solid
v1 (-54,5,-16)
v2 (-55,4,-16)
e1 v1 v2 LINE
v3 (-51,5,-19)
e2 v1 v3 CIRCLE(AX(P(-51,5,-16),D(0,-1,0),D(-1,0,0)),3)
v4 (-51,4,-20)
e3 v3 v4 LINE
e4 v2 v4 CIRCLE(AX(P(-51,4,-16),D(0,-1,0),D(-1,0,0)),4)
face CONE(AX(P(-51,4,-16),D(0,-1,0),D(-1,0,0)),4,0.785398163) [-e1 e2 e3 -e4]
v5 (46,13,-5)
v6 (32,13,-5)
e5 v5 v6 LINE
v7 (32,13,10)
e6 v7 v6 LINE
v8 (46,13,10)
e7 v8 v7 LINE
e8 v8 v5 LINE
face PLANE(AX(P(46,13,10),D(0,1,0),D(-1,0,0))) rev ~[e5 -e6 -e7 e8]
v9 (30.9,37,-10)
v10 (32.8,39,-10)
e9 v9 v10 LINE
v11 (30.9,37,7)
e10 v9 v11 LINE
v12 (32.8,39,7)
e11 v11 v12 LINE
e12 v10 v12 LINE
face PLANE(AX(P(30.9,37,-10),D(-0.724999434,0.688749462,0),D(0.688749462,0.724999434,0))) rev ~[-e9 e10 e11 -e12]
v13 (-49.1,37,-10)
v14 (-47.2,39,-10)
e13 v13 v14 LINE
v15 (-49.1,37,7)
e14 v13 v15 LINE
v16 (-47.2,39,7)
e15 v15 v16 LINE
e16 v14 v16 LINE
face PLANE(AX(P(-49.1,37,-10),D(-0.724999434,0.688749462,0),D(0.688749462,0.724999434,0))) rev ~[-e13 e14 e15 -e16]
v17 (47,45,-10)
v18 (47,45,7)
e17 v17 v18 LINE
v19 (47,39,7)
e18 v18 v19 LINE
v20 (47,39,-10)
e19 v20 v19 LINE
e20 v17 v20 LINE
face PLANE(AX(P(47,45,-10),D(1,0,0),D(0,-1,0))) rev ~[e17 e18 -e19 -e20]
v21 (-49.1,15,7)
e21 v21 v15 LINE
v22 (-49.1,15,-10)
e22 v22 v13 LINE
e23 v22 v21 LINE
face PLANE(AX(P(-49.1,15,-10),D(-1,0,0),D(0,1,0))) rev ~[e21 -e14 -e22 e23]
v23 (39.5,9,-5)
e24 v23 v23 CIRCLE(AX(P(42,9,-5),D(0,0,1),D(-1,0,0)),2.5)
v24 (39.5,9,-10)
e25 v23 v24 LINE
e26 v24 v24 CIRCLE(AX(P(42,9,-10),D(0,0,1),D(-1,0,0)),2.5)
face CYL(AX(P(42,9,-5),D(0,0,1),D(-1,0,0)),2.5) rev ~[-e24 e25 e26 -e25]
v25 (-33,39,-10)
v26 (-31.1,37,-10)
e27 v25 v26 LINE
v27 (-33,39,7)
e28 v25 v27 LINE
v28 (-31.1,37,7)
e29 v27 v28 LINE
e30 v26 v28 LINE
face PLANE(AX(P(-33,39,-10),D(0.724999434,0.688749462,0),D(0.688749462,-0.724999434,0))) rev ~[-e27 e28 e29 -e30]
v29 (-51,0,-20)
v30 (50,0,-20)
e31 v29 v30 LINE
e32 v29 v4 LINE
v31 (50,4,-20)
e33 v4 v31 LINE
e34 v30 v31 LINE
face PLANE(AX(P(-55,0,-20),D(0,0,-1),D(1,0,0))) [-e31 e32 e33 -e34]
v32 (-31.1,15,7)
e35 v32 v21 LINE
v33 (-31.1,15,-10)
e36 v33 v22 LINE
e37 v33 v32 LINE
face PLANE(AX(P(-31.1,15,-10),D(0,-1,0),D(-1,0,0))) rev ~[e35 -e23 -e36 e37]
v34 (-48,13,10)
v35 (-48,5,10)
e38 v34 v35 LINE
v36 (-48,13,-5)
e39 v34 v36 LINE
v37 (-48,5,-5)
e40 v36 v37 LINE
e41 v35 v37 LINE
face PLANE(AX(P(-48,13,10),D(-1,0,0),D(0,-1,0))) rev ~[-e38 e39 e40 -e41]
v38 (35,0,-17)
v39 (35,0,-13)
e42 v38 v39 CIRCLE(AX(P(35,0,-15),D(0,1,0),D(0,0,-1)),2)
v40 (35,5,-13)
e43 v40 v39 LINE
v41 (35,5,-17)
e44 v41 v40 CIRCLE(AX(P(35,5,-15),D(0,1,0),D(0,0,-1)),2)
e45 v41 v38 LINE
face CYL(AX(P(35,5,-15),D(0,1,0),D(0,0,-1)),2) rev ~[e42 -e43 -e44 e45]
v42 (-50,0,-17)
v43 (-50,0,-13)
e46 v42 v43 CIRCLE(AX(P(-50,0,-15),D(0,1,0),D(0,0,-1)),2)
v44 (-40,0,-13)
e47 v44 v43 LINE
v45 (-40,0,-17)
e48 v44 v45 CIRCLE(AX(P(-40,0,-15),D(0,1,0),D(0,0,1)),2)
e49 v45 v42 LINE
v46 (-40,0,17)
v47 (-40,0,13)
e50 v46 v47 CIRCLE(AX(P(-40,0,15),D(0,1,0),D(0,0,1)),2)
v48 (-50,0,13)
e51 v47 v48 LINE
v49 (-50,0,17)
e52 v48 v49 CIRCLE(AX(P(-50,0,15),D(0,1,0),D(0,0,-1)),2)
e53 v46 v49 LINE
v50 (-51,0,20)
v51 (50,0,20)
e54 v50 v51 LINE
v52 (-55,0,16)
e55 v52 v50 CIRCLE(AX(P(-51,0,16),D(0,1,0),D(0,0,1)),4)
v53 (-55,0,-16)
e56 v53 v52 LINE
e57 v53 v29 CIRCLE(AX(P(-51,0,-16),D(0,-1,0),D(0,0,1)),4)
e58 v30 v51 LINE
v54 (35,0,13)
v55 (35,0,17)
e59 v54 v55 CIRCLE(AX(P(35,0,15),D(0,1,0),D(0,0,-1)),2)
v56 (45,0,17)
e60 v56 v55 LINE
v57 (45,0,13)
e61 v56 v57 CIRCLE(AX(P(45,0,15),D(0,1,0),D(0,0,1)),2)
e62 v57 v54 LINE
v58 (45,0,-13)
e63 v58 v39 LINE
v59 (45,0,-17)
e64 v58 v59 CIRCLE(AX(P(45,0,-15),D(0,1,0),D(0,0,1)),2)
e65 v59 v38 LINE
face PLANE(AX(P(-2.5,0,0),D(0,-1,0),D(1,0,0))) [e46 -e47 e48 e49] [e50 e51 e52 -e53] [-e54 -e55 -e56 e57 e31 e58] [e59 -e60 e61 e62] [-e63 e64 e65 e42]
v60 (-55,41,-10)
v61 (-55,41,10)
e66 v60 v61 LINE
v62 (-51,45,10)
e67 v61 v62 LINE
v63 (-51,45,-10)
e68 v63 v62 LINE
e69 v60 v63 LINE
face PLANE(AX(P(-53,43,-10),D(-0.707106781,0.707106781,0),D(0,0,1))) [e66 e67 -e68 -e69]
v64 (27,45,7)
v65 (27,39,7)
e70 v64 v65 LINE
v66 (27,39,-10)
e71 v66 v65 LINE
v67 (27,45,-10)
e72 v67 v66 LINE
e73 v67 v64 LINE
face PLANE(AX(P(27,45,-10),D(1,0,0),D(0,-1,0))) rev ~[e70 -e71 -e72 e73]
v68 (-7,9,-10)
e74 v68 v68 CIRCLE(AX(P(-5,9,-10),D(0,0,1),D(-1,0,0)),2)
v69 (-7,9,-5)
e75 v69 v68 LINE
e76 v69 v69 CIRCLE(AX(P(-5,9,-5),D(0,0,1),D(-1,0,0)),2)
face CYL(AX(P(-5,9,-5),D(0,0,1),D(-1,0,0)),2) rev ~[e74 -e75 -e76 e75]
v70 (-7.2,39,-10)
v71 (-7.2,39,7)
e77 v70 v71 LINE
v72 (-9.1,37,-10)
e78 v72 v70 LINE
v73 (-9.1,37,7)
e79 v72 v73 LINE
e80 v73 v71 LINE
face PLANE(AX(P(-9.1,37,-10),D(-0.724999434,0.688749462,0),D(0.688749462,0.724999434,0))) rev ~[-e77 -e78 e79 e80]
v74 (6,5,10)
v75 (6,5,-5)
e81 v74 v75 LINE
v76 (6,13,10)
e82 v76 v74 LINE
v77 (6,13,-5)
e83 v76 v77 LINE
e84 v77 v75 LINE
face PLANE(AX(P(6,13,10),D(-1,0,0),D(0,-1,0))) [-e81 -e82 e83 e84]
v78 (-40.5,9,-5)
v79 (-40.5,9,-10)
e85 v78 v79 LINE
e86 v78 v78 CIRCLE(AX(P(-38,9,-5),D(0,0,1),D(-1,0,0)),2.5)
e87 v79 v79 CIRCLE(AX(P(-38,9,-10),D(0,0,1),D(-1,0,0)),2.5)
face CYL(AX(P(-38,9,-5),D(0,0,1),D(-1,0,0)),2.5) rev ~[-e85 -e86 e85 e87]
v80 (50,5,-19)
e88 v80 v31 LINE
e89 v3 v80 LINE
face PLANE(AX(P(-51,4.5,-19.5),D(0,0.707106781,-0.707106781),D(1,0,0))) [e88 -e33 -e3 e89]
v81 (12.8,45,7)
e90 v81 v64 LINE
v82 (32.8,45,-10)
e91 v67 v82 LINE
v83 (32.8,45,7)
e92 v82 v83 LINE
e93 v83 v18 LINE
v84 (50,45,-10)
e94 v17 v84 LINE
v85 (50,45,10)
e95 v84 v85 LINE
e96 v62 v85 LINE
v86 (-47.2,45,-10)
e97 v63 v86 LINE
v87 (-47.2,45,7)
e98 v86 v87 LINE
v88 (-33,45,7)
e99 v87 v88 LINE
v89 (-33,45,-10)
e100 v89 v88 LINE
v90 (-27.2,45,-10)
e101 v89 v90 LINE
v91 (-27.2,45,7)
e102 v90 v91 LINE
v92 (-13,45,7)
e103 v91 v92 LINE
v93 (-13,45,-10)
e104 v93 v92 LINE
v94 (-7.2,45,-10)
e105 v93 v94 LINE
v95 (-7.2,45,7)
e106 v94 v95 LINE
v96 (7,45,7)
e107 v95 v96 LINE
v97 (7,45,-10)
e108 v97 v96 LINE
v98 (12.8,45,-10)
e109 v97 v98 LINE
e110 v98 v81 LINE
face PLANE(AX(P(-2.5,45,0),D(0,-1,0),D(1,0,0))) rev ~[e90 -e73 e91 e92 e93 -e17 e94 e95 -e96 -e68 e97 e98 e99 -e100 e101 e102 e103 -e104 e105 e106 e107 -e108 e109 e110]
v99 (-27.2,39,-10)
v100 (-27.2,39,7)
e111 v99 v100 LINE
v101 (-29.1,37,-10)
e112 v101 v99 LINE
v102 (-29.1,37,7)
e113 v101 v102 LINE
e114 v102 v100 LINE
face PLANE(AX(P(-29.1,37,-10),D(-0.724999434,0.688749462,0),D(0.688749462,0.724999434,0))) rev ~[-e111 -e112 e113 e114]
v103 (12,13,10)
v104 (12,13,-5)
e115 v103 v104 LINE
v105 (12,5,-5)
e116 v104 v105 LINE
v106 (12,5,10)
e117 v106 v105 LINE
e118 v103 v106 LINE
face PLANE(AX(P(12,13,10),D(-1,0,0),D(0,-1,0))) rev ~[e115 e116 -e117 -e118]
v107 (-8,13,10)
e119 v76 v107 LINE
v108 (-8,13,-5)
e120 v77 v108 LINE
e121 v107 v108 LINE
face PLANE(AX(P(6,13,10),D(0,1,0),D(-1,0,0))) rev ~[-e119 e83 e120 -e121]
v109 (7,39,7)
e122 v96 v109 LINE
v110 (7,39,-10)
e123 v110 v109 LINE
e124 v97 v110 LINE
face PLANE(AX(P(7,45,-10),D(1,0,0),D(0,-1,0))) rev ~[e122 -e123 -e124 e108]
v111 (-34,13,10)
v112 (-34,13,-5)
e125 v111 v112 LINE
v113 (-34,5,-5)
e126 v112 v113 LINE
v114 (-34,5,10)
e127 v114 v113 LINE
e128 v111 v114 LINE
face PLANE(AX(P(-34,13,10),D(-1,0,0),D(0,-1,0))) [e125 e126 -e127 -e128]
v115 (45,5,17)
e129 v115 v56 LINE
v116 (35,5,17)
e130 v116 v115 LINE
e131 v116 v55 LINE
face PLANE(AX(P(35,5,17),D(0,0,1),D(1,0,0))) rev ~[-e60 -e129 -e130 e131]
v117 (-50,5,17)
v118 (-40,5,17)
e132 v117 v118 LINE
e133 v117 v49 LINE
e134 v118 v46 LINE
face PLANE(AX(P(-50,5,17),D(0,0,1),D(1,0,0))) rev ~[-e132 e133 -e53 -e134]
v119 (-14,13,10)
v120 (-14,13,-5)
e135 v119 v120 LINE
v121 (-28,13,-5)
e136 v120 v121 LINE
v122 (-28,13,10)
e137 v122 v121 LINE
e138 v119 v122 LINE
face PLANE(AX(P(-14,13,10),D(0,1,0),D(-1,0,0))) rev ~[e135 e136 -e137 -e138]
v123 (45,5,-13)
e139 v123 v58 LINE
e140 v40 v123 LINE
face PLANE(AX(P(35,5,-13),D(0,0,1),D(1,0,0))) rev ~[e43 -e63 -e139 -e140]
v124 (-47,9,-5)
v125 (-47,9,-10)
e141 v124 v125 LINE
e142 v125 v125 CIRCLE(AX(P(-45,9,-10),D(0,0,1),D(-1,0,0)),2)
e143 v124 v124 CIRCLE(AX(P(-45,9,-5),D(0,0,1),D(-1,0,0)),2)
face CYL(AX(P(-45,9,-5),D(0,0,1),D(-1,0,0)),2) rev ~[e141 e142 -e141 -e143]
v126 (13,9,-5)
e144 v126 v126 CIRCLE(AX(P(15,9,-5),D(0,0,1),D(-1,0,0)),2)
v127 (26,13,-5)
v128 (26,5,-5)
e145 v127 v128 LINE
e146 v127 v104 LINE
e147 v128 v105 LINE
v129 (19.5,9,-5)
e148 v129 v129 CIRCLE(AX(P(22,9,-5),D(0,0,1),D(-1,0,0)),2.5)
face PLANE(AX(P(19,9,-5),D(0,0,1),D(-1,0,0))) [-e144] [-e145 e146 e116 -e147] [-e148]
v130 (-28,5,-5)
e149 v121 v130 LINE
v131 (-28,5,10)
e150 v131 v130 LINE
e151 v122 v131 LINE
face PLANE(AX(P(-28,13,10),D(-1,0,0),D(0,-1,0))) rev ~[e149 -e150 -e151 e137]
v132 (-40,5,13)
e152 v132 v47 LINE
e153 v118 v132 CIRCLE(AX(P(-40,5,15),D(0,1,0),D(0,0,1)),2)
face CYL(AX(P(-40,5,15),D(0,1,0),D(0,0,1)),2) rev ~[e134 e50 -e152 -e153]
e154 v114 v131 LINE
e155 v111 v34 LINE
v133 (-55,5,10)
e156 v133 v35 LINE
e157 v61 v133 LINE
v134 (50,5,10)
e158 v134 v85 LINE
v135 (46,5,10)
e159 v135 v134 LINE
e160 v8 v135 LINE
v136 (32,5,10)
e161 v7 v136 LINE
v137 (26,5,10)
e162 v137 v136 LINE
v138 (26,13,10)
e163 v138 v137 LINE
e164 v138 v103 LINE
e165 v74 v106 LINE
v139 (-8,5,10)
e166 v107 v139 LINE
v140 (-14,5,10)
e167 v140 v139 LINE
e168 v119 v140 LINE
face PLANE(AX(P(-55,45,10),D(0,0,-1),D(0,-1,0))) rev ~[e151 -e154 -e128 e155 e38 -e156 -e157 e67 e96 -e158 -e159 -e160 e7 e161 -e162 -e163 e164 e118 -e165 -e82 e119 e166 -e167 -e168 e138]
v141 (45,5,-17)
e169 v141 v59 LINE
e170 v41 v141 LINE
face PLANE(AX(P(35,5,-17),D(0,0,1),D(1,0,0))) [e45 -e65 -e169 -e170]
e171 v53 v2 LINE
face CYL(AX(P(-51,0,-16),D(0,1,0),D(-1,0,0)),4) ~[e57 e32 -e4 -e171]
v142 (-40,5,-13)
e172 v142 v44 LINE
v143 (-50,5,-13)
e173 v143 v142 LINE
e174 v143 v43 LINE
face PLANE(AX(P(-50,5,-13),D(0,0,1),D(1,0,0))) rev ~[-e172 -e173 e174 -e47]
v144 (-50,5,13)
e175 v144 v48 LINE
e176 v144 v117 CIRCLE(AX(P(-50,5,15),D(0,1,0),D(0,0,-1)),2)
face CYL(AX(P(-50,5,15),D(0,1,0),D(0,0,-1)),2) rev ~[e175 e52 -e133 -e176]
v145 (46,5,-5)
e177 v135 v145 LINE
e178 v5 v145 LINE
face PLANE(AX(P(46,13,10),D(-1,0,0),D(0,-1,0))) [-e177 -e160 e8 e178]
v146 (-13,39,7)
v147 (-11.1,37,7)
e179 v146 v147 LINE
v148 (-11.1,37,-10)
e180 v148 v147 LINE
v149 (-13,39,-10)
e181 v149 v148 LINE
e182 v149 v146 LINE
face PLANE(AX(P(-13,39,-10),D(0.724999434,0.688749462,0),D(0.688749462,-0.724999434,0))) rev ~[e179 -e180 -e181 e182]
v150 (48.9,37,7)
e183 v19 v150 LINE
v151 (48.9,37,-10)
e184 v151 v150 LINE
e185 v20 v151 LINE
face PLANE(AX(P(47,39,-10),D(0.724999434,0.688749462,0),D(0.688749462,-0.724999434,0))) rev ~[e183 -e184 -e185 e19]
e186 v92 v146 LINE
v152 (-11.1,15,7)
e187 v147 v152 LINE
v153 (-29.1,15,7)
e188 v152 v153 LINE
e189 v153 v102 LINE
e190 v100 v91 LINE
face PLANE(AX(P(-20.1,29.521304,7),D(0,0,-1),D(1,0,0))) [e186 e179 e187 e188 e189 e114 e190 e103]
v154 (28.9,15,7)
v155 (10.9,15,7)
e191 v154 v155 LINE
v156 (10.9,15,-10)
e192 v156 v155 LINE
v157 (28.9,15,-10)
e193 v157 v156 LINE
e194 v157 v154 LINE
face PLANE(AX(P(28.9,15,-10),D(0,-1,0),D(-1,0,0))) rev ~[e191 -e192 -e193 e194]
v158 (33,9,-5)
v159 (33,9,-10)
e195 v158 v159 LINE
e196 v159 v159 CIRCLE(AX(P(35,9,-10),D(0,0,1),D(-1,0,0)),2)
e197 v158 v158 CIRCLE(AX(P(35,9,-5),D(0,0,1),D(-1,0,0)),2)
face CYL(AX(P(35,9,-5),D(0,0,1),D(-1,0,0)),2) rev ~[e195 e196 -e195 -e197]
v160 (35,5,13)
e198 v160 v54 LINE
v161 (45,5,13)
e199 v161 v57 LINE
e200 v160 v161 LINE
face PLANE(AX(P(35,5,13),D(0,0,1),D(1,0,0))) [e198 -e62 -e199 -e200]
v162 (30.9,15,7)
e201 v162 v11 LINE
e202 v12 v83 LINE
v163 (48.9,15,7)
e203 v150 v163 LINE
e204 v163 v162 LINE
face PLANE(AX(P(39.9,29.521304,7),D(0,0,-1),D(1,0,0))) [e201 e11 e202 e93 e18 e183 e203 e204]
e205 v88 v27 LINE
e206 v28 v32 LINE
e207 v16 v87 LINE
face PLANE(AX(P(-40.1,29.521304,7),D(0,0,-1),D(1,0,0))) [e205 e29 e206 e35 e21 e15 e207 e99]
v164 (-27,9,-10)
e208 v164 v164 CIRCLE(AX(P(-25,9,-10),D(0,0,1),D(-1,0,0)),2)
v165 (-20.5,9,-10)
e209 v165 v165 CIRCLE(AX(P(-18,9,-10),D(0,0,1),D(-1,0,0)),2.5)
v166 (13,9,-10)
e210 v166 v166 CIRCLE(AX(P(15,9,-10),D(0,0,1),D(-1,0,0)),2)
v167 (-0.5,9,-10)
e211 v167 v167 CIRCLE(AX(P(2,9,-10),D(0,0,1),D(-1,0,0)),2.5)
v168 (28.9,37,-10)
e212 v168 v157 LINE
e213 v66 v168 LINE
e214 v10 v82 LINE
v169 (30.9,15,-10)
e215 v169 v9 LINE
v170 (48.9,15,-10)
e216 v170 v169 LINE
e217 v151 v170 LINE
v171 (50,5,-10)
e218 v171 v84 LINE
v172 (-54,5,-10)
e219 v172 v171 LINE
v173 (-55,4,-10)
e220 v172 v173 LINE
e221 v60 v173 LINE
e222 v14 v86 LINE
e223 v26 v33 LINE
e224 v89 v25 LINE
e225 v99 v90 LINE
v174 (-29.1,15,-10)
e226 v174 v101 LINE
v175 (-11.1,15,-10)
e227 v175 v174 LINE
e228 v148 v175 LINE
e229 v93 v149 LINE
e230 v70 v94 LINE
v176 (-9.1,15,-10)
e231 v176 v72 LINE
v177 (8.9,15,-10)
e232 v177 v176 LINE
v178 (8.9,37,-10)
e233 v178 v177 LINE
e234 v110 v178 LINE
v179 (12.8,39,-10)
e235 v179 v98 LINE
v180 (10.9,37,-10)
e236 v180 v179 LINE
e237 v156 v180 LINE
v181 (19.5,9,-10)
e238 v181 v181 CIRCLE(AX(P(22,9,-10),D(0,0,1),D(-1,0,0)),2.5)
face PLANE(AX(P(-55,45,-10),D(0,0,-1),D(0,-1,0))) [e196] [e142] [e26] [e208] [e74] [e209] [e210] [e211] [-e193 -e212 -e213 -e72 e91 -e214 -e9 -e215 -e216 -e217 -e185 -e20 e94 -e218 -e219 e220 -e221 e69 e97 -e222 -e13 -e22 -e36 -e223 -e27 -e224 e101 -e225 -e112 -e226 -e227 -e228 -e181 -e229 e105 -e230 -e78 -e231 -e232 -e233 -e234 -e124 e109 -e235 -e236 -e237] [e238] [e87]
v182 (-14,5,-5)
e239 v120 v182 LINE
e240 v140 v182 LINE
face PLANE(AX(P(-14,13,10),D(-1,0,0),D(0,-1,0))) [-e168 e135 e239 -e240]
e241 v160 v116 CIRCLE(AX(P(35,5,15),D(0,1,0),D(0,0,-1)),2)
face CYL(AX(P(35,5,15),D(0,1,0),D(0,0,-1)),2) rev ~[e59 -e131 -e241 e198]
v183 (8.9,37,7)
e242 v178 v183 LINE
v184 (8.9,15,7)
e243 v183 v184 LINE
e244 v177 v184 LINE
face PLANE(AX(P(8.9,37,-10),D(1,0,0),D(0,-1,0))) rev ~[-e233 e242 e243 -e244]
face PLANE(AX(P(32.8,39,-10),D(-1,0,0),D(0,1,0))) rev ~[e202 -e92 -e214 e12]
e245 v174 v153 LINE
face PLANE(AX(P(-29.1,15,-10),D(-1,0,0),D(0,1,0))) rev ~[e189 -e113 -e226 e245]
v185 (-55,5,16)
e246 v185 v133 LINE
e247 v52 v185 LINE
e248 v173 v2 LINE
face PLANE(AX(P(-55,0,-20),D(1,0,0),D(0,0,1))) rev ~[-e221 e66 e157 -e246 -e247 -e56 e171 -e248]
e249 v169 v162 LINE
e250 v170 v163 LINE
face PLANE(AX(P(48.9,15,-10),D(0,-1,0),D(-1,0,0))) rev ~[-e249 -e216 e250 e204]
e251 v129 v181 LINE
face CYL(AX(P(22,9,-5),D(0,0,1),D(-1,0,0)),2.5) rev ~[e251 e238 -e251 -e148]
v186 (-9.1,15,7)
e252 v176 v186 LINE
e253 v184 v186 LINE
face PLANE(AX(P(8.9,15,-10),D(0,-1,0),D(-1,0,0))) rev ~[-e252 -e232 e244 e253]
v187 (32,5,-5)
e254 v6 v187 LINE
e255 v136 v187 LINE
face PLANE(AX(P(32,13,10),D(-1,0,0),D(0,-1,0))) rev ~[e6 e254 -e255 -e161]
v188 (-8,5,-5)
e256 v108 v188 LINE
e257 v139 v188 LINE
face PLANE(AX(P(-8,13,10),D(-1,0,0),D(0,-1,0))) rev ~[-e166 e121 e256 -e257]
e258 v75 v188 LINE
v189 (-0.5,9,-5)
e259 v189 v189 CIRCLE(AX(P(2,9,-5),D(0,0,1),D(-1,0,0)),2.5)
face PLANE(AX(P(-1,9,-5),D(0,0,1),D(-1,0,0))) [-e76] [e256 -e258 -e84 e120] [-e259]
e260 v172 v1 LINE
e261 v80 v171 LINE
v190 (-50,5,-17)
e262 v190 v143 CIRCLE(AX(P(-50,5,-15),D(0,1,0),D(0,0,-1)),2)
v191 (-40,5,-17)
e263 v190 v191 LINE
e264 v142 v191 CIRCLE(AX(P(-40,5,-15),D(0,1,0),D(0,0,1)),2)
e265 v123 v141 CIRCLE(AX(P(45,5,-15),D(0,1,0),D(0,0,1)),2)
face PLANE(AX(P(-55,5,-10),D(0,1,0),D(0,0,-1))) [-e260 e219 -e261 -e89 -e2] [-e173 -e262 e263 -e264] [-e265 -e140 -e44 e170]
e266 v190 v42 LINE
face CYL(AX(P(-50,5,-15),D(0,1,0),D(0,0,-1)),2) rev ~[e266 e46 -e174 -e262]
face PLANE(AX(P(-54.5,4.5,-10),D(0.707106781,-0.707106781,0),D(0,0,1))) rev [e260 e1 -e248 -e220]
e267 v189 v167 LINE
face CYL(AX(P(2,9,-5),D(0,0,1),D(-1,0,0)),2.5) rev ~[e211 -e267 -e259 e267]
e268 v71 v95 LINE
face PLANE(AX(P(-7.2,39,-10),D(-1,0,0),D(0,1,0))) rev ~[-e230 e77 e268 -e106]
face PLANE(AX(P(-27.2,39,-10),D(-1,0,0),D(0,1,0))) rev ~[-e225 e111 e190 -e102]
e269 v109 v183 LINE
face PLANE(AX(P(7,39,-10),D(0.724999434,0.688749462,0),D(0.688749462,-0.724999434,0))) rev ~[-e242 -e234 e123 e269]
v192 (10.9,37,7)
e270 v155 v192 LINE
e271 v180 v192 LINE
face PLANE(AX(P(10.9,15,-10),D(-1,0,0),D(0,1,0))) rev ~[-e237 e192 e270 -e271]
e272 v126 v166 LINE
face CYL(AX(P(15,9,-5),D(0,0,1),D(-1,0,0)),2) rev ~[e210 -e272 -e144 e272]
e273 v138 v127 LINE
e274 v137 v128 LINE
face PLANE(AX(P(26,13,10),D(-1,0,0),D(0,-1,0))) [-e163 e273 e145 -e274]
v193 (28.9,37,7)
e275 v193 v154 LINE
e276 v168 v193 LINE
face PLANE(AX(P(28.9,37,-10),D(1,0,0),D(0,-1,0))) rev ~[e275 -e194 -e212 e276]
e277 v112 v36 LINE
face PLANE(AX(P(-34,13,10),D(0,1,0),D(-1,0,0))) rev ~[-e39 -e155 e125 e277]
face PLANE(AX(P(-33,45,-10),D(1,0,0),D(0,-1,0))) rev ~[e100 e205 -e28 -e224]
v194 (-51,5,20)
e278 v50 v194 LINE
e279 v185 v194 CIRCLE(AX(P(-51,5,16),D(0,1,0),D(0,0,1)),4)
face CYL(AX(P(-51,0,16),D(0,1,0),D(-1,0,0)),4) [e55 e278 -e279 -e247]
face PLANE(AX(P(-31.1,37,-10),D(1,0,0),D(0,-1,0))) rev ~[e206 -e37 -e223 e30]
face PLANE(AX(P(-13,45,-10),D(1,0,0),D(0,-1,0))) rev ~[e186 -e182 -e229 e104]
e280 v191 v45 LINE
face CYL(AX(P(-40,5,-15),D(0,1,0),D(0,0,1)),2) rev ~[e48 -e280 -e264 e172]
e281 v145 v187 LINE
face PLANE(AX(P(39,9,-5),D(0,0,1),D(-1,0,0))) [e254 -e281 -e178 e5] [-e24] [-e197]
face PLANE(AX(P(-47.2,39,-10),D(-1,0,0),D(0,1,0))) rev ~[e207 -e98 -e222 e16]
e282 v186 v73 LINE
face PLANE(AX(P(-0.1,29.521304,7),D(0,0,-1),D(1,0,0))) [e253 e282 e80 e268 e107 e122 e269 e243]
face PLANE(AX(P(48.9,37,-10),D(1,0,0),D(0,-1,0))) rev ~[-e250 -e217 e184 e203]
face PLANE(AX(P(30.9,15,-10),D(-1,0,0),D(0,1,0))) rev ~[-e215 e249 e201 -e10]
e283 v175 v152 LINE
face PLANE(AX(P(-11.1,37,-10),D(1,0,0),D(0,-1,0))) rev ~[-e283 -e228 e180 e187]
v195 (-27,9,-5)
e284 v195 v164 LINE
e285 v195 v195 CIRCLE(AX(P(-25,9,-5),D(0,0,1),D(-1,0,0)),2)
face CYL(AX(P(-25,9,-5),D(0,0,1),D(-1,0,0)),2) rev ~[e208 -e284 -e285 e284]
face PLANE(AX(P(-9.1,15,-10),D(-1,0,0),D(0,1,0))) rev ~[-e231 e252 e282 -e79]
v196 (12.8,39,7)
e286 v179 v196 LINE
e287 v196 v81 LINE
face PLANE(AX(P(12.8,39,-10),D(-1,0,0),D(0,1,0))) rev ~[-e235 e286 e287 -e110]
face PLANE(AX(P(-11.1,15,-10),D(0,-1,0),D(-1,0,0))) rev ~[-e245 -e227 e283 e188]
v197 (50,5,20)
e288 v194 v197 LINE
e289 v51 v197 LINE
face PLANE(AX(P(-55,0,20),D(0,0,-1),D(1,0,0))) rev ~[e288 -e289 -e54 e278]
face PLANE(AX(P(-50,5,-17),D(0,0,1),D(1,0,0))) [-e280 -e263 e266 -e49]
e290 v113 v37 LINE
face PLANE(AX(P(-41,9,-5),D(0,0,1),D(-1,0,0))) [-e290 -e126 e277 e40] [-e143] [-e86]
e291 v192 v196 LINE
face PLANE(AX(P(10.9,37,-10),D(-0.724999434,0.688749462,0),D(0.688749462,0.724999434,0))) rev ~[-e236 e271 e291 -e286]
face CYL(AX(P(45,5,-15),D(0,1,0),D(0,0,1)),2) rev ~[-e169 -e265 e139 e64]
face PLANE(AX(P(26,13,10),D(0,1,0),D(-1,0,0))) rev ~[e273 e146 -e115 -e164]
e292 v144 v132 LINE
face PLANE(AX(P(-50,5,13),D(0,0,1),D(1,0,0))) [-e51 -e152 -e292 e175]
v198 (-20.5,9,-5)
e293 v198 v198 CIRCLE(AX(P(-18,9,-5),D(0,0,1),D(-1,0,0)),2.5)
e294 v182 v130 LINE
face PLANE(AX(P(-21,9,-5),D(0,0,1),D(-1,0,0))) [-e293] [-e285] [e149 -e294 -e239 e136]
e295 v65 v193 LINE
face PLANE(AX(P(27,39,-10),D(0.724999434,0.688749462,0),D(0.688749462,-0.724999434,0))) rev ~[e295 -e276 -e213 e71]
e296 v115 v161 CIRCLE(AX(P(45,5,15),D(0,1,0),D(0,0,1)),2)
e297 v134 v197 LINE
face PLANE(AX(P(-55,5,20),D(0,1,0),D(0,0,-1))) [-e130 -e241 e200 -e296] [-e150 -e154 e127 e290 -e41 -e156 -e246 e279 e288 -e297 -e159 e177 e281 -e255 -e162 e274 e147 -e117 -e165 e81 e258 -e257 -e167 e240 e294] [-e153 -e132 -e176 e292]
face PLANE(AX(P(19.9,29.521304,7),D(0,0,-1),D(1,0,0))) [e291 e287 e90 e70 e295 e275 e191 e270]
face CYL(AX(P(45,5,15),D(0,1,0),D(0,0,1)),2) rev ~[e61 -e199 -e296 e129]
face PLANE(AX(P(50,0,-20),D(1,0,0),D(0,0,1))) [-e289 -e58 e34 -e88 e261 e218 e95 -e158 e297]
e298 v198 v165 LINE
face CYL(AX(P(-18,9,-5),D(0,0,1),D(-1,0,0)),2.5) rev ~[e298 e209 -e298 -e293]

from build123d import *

# Parameters (mm, degrees)
SKETCH001_W            = 105
SKETCH001_H            = 40
PAD001_DEPTH           = 45
SKETCH002_W            = 10
SKETCH002_H            = 40
POCKET_DEPTH           = 105.001
POCKET001_DEPTH        = 5.001
POCKET002_DEPTH        = 17
LINEARPATTERN_COUNT    = 5
LINEARPATTERN_PITCH    = 20
SKETCH005_W            = 14
SKETCH005_H            = 8
POCKET003_DEPTH        = 15
LINEARPATTERN001_COUNT = 5
LINEARPATTERN001_PITCH = 20
SKETCH006_R            = 2.5
SKETCH006_R_2          = 2
POCKET004_DEPTH        = 15.001
LINEARPATTERN002_COUNT = 5
LINEARPATTERN002_PITCH = 20
FILLET_R               = 4
CHAMFER_SIZE           = 1
CHAMFER001_SIZE        = 4


with BuildPart() as part:
    # Sketch001 → Pad001 (new body)
    with BuildSketch(Plane.XZ):
        with Locations((-2.5, 0)):
            Rectangle(SKETCH001_W, SKETCH001_H)
    extrude(amount=-PAD001_DEPTH)

    # Sketch002 (on Face4 of Pad001) → Pocket (cut, through all)
    with BuildSketch(Plane(origin=(-55, 0, 0), x_dir=(0, 0, -1), z_dir=(-1, 0, 0))):
        with Locations((-15, -25)):
            Rectangle(SKETCH002_W, SKETCH002_H)
        with Locations((15, -25)):
            Rectangle(SKETCH002_W, SKETCH002_H)
    extrude(amount=-POCKET_DEPTH, mode=Mode.SUBTRACT)

    # Sketch003 (on Face7 of Pocket) → Pocket001 (cut, through all)
    with BuildSketch(Plane(origin=(0, 5, 0), x_dir=(1, 0, 0), z_dir=(0, 1, 0))):
        with BuildLine():
            ThreePointArc((-50, 17), (-52, 15), (-50, 13))
            Line((-50, 13), (-40, 13))
            ThreePointArc((-40, 13), (-38, 15), (-40, 17))
            Line((-50, 17), (-40, 17))
        make_face()
        with BuildLine():
            ThreePointArc((35, 17), (33, 15), (35, 13))
            Line((35, 13), (45, 13))
            ThreePointArc((45, 13), (47, 15), (45, 17))
            Line((35, 17), (45, 17))
        make_face()
        with BuildLine():
            ThreePointArc((-50, -13), (-52, -15), (-50, -17))
            Line((-50, -17), (-40, -17))
            ThreePointArc((-40, -17), (-38, -15), (-40, -13))
            Line((-50, -13), (-40, -13))
        make_face()
        with BuildLine():
            ThreePointArc((35, -13), (33, -15), (35, -17))
            Line((35, -17), (45, -17))
            ThreePointArc((45, -17), (47, -15), (45, -13))
            Line((35, -13), (45, -13))
        make_face()
    extrude(amount=-POCKET001_DEPTH, mode=Mode.SUBTRACT)

    # Sketch004 (on Face24 of Pocket001) → Pocket002 (cut)
    with BuildSketch(Plane(origin=(0, 0, -10), x_dir=(1, 0, 0), z_dir=(0, 0, -1))):
        Polygon((47, -45), (47, -39), (48.9, -37), (48.9, -15), (30.9, -15), (30.9, -37), (32.8, -39), (32.8, -45), align=None)
    pocket002 = extrude(amount=-POCKET002_DEPTH, mode=Mode.SUBTRACT)

    # LinearPattern: Pocket002 ×5
    with Locations(*[(-i * LINEARPATTERN_PITCH, 0, 0) for i in range(1, LINEARPATTERN_COUNT)]):
        add(pocket002, mode=Mode.SUBTRACT)

    # Sketch005 (on Face26 of LinearPattern) → Pocket003 (cut)
    with BuildSketch(Plane(origin=(0, 0, 10), x_dir=(-1, 0, 0), z_dir=(0, 0, 1))):
        with Locations((-39, -9)):
            Rectangle(SKETCH005_W, SKETCH005_H)
    pocket003 = extrude(amount=-POCKET003_DEPTH, mode=Mode.SUBTRACT)

    # LinearPattern001: Pocket003 ×5
    with Locations(*[(-i * LINEARPATTERN001_PITCH, 0, 0) for i in range(1, LINEARPATTERN001_COUNT)]):
        add(pocket003, mode=Mode.SUBTRACT)

    # Sketch006 (on Face27 of LinearPattern001) → Pocket004 (cut, through all)
    with BuildSketch(Plane(origin=(0, 0, -5), x_dir=(-1, 0, 0), z_dir=(0, 0, 1))):
        with Locations((-42, -9)):
            Circle(SKETCH006_R)
        with Locations((-35, -9)):
            Circle(SKETCH006_R_2)
    pocket004 = extrude(amount=-POCKET004_DEPTH, mode=Mode.SUBTRACT)

    # LinearPattern002: Pocket004 ×5
    with Locations(*[(-i * LINEARPATTERN002_PITCH, 0, 0) for i in range(1, LINEARPATTERN002_COUNT)]):
        add(pocket004, mode=Mode.SUBTRACT)

    # Fillet
    fillet_edges = [part.edges().sort_by_distance(p)[0] for p in [
        (-55, 2.5, -20),
        (-55, 2.5, 20),
    ]]
    fillet(fillet_edges, radius=FILLET_R)

    # Chamfer
    chamfer_edges = [part.edges().sort_by_distance(p)[0] for p in [
        (-0.5, 5, -20),
    ]]
    chamfer(chamfer_edges, length=CHAMFER_SIZE)

    # Chamfer001
    chamfer001_edges = [part.edges().sort_by_distance(p)[0] for p in [
        (-55, 45, 0),
    ]]
    chamfer(chamfer001_edges, length=CHAMFER001_SIZE)


solid = part.part
